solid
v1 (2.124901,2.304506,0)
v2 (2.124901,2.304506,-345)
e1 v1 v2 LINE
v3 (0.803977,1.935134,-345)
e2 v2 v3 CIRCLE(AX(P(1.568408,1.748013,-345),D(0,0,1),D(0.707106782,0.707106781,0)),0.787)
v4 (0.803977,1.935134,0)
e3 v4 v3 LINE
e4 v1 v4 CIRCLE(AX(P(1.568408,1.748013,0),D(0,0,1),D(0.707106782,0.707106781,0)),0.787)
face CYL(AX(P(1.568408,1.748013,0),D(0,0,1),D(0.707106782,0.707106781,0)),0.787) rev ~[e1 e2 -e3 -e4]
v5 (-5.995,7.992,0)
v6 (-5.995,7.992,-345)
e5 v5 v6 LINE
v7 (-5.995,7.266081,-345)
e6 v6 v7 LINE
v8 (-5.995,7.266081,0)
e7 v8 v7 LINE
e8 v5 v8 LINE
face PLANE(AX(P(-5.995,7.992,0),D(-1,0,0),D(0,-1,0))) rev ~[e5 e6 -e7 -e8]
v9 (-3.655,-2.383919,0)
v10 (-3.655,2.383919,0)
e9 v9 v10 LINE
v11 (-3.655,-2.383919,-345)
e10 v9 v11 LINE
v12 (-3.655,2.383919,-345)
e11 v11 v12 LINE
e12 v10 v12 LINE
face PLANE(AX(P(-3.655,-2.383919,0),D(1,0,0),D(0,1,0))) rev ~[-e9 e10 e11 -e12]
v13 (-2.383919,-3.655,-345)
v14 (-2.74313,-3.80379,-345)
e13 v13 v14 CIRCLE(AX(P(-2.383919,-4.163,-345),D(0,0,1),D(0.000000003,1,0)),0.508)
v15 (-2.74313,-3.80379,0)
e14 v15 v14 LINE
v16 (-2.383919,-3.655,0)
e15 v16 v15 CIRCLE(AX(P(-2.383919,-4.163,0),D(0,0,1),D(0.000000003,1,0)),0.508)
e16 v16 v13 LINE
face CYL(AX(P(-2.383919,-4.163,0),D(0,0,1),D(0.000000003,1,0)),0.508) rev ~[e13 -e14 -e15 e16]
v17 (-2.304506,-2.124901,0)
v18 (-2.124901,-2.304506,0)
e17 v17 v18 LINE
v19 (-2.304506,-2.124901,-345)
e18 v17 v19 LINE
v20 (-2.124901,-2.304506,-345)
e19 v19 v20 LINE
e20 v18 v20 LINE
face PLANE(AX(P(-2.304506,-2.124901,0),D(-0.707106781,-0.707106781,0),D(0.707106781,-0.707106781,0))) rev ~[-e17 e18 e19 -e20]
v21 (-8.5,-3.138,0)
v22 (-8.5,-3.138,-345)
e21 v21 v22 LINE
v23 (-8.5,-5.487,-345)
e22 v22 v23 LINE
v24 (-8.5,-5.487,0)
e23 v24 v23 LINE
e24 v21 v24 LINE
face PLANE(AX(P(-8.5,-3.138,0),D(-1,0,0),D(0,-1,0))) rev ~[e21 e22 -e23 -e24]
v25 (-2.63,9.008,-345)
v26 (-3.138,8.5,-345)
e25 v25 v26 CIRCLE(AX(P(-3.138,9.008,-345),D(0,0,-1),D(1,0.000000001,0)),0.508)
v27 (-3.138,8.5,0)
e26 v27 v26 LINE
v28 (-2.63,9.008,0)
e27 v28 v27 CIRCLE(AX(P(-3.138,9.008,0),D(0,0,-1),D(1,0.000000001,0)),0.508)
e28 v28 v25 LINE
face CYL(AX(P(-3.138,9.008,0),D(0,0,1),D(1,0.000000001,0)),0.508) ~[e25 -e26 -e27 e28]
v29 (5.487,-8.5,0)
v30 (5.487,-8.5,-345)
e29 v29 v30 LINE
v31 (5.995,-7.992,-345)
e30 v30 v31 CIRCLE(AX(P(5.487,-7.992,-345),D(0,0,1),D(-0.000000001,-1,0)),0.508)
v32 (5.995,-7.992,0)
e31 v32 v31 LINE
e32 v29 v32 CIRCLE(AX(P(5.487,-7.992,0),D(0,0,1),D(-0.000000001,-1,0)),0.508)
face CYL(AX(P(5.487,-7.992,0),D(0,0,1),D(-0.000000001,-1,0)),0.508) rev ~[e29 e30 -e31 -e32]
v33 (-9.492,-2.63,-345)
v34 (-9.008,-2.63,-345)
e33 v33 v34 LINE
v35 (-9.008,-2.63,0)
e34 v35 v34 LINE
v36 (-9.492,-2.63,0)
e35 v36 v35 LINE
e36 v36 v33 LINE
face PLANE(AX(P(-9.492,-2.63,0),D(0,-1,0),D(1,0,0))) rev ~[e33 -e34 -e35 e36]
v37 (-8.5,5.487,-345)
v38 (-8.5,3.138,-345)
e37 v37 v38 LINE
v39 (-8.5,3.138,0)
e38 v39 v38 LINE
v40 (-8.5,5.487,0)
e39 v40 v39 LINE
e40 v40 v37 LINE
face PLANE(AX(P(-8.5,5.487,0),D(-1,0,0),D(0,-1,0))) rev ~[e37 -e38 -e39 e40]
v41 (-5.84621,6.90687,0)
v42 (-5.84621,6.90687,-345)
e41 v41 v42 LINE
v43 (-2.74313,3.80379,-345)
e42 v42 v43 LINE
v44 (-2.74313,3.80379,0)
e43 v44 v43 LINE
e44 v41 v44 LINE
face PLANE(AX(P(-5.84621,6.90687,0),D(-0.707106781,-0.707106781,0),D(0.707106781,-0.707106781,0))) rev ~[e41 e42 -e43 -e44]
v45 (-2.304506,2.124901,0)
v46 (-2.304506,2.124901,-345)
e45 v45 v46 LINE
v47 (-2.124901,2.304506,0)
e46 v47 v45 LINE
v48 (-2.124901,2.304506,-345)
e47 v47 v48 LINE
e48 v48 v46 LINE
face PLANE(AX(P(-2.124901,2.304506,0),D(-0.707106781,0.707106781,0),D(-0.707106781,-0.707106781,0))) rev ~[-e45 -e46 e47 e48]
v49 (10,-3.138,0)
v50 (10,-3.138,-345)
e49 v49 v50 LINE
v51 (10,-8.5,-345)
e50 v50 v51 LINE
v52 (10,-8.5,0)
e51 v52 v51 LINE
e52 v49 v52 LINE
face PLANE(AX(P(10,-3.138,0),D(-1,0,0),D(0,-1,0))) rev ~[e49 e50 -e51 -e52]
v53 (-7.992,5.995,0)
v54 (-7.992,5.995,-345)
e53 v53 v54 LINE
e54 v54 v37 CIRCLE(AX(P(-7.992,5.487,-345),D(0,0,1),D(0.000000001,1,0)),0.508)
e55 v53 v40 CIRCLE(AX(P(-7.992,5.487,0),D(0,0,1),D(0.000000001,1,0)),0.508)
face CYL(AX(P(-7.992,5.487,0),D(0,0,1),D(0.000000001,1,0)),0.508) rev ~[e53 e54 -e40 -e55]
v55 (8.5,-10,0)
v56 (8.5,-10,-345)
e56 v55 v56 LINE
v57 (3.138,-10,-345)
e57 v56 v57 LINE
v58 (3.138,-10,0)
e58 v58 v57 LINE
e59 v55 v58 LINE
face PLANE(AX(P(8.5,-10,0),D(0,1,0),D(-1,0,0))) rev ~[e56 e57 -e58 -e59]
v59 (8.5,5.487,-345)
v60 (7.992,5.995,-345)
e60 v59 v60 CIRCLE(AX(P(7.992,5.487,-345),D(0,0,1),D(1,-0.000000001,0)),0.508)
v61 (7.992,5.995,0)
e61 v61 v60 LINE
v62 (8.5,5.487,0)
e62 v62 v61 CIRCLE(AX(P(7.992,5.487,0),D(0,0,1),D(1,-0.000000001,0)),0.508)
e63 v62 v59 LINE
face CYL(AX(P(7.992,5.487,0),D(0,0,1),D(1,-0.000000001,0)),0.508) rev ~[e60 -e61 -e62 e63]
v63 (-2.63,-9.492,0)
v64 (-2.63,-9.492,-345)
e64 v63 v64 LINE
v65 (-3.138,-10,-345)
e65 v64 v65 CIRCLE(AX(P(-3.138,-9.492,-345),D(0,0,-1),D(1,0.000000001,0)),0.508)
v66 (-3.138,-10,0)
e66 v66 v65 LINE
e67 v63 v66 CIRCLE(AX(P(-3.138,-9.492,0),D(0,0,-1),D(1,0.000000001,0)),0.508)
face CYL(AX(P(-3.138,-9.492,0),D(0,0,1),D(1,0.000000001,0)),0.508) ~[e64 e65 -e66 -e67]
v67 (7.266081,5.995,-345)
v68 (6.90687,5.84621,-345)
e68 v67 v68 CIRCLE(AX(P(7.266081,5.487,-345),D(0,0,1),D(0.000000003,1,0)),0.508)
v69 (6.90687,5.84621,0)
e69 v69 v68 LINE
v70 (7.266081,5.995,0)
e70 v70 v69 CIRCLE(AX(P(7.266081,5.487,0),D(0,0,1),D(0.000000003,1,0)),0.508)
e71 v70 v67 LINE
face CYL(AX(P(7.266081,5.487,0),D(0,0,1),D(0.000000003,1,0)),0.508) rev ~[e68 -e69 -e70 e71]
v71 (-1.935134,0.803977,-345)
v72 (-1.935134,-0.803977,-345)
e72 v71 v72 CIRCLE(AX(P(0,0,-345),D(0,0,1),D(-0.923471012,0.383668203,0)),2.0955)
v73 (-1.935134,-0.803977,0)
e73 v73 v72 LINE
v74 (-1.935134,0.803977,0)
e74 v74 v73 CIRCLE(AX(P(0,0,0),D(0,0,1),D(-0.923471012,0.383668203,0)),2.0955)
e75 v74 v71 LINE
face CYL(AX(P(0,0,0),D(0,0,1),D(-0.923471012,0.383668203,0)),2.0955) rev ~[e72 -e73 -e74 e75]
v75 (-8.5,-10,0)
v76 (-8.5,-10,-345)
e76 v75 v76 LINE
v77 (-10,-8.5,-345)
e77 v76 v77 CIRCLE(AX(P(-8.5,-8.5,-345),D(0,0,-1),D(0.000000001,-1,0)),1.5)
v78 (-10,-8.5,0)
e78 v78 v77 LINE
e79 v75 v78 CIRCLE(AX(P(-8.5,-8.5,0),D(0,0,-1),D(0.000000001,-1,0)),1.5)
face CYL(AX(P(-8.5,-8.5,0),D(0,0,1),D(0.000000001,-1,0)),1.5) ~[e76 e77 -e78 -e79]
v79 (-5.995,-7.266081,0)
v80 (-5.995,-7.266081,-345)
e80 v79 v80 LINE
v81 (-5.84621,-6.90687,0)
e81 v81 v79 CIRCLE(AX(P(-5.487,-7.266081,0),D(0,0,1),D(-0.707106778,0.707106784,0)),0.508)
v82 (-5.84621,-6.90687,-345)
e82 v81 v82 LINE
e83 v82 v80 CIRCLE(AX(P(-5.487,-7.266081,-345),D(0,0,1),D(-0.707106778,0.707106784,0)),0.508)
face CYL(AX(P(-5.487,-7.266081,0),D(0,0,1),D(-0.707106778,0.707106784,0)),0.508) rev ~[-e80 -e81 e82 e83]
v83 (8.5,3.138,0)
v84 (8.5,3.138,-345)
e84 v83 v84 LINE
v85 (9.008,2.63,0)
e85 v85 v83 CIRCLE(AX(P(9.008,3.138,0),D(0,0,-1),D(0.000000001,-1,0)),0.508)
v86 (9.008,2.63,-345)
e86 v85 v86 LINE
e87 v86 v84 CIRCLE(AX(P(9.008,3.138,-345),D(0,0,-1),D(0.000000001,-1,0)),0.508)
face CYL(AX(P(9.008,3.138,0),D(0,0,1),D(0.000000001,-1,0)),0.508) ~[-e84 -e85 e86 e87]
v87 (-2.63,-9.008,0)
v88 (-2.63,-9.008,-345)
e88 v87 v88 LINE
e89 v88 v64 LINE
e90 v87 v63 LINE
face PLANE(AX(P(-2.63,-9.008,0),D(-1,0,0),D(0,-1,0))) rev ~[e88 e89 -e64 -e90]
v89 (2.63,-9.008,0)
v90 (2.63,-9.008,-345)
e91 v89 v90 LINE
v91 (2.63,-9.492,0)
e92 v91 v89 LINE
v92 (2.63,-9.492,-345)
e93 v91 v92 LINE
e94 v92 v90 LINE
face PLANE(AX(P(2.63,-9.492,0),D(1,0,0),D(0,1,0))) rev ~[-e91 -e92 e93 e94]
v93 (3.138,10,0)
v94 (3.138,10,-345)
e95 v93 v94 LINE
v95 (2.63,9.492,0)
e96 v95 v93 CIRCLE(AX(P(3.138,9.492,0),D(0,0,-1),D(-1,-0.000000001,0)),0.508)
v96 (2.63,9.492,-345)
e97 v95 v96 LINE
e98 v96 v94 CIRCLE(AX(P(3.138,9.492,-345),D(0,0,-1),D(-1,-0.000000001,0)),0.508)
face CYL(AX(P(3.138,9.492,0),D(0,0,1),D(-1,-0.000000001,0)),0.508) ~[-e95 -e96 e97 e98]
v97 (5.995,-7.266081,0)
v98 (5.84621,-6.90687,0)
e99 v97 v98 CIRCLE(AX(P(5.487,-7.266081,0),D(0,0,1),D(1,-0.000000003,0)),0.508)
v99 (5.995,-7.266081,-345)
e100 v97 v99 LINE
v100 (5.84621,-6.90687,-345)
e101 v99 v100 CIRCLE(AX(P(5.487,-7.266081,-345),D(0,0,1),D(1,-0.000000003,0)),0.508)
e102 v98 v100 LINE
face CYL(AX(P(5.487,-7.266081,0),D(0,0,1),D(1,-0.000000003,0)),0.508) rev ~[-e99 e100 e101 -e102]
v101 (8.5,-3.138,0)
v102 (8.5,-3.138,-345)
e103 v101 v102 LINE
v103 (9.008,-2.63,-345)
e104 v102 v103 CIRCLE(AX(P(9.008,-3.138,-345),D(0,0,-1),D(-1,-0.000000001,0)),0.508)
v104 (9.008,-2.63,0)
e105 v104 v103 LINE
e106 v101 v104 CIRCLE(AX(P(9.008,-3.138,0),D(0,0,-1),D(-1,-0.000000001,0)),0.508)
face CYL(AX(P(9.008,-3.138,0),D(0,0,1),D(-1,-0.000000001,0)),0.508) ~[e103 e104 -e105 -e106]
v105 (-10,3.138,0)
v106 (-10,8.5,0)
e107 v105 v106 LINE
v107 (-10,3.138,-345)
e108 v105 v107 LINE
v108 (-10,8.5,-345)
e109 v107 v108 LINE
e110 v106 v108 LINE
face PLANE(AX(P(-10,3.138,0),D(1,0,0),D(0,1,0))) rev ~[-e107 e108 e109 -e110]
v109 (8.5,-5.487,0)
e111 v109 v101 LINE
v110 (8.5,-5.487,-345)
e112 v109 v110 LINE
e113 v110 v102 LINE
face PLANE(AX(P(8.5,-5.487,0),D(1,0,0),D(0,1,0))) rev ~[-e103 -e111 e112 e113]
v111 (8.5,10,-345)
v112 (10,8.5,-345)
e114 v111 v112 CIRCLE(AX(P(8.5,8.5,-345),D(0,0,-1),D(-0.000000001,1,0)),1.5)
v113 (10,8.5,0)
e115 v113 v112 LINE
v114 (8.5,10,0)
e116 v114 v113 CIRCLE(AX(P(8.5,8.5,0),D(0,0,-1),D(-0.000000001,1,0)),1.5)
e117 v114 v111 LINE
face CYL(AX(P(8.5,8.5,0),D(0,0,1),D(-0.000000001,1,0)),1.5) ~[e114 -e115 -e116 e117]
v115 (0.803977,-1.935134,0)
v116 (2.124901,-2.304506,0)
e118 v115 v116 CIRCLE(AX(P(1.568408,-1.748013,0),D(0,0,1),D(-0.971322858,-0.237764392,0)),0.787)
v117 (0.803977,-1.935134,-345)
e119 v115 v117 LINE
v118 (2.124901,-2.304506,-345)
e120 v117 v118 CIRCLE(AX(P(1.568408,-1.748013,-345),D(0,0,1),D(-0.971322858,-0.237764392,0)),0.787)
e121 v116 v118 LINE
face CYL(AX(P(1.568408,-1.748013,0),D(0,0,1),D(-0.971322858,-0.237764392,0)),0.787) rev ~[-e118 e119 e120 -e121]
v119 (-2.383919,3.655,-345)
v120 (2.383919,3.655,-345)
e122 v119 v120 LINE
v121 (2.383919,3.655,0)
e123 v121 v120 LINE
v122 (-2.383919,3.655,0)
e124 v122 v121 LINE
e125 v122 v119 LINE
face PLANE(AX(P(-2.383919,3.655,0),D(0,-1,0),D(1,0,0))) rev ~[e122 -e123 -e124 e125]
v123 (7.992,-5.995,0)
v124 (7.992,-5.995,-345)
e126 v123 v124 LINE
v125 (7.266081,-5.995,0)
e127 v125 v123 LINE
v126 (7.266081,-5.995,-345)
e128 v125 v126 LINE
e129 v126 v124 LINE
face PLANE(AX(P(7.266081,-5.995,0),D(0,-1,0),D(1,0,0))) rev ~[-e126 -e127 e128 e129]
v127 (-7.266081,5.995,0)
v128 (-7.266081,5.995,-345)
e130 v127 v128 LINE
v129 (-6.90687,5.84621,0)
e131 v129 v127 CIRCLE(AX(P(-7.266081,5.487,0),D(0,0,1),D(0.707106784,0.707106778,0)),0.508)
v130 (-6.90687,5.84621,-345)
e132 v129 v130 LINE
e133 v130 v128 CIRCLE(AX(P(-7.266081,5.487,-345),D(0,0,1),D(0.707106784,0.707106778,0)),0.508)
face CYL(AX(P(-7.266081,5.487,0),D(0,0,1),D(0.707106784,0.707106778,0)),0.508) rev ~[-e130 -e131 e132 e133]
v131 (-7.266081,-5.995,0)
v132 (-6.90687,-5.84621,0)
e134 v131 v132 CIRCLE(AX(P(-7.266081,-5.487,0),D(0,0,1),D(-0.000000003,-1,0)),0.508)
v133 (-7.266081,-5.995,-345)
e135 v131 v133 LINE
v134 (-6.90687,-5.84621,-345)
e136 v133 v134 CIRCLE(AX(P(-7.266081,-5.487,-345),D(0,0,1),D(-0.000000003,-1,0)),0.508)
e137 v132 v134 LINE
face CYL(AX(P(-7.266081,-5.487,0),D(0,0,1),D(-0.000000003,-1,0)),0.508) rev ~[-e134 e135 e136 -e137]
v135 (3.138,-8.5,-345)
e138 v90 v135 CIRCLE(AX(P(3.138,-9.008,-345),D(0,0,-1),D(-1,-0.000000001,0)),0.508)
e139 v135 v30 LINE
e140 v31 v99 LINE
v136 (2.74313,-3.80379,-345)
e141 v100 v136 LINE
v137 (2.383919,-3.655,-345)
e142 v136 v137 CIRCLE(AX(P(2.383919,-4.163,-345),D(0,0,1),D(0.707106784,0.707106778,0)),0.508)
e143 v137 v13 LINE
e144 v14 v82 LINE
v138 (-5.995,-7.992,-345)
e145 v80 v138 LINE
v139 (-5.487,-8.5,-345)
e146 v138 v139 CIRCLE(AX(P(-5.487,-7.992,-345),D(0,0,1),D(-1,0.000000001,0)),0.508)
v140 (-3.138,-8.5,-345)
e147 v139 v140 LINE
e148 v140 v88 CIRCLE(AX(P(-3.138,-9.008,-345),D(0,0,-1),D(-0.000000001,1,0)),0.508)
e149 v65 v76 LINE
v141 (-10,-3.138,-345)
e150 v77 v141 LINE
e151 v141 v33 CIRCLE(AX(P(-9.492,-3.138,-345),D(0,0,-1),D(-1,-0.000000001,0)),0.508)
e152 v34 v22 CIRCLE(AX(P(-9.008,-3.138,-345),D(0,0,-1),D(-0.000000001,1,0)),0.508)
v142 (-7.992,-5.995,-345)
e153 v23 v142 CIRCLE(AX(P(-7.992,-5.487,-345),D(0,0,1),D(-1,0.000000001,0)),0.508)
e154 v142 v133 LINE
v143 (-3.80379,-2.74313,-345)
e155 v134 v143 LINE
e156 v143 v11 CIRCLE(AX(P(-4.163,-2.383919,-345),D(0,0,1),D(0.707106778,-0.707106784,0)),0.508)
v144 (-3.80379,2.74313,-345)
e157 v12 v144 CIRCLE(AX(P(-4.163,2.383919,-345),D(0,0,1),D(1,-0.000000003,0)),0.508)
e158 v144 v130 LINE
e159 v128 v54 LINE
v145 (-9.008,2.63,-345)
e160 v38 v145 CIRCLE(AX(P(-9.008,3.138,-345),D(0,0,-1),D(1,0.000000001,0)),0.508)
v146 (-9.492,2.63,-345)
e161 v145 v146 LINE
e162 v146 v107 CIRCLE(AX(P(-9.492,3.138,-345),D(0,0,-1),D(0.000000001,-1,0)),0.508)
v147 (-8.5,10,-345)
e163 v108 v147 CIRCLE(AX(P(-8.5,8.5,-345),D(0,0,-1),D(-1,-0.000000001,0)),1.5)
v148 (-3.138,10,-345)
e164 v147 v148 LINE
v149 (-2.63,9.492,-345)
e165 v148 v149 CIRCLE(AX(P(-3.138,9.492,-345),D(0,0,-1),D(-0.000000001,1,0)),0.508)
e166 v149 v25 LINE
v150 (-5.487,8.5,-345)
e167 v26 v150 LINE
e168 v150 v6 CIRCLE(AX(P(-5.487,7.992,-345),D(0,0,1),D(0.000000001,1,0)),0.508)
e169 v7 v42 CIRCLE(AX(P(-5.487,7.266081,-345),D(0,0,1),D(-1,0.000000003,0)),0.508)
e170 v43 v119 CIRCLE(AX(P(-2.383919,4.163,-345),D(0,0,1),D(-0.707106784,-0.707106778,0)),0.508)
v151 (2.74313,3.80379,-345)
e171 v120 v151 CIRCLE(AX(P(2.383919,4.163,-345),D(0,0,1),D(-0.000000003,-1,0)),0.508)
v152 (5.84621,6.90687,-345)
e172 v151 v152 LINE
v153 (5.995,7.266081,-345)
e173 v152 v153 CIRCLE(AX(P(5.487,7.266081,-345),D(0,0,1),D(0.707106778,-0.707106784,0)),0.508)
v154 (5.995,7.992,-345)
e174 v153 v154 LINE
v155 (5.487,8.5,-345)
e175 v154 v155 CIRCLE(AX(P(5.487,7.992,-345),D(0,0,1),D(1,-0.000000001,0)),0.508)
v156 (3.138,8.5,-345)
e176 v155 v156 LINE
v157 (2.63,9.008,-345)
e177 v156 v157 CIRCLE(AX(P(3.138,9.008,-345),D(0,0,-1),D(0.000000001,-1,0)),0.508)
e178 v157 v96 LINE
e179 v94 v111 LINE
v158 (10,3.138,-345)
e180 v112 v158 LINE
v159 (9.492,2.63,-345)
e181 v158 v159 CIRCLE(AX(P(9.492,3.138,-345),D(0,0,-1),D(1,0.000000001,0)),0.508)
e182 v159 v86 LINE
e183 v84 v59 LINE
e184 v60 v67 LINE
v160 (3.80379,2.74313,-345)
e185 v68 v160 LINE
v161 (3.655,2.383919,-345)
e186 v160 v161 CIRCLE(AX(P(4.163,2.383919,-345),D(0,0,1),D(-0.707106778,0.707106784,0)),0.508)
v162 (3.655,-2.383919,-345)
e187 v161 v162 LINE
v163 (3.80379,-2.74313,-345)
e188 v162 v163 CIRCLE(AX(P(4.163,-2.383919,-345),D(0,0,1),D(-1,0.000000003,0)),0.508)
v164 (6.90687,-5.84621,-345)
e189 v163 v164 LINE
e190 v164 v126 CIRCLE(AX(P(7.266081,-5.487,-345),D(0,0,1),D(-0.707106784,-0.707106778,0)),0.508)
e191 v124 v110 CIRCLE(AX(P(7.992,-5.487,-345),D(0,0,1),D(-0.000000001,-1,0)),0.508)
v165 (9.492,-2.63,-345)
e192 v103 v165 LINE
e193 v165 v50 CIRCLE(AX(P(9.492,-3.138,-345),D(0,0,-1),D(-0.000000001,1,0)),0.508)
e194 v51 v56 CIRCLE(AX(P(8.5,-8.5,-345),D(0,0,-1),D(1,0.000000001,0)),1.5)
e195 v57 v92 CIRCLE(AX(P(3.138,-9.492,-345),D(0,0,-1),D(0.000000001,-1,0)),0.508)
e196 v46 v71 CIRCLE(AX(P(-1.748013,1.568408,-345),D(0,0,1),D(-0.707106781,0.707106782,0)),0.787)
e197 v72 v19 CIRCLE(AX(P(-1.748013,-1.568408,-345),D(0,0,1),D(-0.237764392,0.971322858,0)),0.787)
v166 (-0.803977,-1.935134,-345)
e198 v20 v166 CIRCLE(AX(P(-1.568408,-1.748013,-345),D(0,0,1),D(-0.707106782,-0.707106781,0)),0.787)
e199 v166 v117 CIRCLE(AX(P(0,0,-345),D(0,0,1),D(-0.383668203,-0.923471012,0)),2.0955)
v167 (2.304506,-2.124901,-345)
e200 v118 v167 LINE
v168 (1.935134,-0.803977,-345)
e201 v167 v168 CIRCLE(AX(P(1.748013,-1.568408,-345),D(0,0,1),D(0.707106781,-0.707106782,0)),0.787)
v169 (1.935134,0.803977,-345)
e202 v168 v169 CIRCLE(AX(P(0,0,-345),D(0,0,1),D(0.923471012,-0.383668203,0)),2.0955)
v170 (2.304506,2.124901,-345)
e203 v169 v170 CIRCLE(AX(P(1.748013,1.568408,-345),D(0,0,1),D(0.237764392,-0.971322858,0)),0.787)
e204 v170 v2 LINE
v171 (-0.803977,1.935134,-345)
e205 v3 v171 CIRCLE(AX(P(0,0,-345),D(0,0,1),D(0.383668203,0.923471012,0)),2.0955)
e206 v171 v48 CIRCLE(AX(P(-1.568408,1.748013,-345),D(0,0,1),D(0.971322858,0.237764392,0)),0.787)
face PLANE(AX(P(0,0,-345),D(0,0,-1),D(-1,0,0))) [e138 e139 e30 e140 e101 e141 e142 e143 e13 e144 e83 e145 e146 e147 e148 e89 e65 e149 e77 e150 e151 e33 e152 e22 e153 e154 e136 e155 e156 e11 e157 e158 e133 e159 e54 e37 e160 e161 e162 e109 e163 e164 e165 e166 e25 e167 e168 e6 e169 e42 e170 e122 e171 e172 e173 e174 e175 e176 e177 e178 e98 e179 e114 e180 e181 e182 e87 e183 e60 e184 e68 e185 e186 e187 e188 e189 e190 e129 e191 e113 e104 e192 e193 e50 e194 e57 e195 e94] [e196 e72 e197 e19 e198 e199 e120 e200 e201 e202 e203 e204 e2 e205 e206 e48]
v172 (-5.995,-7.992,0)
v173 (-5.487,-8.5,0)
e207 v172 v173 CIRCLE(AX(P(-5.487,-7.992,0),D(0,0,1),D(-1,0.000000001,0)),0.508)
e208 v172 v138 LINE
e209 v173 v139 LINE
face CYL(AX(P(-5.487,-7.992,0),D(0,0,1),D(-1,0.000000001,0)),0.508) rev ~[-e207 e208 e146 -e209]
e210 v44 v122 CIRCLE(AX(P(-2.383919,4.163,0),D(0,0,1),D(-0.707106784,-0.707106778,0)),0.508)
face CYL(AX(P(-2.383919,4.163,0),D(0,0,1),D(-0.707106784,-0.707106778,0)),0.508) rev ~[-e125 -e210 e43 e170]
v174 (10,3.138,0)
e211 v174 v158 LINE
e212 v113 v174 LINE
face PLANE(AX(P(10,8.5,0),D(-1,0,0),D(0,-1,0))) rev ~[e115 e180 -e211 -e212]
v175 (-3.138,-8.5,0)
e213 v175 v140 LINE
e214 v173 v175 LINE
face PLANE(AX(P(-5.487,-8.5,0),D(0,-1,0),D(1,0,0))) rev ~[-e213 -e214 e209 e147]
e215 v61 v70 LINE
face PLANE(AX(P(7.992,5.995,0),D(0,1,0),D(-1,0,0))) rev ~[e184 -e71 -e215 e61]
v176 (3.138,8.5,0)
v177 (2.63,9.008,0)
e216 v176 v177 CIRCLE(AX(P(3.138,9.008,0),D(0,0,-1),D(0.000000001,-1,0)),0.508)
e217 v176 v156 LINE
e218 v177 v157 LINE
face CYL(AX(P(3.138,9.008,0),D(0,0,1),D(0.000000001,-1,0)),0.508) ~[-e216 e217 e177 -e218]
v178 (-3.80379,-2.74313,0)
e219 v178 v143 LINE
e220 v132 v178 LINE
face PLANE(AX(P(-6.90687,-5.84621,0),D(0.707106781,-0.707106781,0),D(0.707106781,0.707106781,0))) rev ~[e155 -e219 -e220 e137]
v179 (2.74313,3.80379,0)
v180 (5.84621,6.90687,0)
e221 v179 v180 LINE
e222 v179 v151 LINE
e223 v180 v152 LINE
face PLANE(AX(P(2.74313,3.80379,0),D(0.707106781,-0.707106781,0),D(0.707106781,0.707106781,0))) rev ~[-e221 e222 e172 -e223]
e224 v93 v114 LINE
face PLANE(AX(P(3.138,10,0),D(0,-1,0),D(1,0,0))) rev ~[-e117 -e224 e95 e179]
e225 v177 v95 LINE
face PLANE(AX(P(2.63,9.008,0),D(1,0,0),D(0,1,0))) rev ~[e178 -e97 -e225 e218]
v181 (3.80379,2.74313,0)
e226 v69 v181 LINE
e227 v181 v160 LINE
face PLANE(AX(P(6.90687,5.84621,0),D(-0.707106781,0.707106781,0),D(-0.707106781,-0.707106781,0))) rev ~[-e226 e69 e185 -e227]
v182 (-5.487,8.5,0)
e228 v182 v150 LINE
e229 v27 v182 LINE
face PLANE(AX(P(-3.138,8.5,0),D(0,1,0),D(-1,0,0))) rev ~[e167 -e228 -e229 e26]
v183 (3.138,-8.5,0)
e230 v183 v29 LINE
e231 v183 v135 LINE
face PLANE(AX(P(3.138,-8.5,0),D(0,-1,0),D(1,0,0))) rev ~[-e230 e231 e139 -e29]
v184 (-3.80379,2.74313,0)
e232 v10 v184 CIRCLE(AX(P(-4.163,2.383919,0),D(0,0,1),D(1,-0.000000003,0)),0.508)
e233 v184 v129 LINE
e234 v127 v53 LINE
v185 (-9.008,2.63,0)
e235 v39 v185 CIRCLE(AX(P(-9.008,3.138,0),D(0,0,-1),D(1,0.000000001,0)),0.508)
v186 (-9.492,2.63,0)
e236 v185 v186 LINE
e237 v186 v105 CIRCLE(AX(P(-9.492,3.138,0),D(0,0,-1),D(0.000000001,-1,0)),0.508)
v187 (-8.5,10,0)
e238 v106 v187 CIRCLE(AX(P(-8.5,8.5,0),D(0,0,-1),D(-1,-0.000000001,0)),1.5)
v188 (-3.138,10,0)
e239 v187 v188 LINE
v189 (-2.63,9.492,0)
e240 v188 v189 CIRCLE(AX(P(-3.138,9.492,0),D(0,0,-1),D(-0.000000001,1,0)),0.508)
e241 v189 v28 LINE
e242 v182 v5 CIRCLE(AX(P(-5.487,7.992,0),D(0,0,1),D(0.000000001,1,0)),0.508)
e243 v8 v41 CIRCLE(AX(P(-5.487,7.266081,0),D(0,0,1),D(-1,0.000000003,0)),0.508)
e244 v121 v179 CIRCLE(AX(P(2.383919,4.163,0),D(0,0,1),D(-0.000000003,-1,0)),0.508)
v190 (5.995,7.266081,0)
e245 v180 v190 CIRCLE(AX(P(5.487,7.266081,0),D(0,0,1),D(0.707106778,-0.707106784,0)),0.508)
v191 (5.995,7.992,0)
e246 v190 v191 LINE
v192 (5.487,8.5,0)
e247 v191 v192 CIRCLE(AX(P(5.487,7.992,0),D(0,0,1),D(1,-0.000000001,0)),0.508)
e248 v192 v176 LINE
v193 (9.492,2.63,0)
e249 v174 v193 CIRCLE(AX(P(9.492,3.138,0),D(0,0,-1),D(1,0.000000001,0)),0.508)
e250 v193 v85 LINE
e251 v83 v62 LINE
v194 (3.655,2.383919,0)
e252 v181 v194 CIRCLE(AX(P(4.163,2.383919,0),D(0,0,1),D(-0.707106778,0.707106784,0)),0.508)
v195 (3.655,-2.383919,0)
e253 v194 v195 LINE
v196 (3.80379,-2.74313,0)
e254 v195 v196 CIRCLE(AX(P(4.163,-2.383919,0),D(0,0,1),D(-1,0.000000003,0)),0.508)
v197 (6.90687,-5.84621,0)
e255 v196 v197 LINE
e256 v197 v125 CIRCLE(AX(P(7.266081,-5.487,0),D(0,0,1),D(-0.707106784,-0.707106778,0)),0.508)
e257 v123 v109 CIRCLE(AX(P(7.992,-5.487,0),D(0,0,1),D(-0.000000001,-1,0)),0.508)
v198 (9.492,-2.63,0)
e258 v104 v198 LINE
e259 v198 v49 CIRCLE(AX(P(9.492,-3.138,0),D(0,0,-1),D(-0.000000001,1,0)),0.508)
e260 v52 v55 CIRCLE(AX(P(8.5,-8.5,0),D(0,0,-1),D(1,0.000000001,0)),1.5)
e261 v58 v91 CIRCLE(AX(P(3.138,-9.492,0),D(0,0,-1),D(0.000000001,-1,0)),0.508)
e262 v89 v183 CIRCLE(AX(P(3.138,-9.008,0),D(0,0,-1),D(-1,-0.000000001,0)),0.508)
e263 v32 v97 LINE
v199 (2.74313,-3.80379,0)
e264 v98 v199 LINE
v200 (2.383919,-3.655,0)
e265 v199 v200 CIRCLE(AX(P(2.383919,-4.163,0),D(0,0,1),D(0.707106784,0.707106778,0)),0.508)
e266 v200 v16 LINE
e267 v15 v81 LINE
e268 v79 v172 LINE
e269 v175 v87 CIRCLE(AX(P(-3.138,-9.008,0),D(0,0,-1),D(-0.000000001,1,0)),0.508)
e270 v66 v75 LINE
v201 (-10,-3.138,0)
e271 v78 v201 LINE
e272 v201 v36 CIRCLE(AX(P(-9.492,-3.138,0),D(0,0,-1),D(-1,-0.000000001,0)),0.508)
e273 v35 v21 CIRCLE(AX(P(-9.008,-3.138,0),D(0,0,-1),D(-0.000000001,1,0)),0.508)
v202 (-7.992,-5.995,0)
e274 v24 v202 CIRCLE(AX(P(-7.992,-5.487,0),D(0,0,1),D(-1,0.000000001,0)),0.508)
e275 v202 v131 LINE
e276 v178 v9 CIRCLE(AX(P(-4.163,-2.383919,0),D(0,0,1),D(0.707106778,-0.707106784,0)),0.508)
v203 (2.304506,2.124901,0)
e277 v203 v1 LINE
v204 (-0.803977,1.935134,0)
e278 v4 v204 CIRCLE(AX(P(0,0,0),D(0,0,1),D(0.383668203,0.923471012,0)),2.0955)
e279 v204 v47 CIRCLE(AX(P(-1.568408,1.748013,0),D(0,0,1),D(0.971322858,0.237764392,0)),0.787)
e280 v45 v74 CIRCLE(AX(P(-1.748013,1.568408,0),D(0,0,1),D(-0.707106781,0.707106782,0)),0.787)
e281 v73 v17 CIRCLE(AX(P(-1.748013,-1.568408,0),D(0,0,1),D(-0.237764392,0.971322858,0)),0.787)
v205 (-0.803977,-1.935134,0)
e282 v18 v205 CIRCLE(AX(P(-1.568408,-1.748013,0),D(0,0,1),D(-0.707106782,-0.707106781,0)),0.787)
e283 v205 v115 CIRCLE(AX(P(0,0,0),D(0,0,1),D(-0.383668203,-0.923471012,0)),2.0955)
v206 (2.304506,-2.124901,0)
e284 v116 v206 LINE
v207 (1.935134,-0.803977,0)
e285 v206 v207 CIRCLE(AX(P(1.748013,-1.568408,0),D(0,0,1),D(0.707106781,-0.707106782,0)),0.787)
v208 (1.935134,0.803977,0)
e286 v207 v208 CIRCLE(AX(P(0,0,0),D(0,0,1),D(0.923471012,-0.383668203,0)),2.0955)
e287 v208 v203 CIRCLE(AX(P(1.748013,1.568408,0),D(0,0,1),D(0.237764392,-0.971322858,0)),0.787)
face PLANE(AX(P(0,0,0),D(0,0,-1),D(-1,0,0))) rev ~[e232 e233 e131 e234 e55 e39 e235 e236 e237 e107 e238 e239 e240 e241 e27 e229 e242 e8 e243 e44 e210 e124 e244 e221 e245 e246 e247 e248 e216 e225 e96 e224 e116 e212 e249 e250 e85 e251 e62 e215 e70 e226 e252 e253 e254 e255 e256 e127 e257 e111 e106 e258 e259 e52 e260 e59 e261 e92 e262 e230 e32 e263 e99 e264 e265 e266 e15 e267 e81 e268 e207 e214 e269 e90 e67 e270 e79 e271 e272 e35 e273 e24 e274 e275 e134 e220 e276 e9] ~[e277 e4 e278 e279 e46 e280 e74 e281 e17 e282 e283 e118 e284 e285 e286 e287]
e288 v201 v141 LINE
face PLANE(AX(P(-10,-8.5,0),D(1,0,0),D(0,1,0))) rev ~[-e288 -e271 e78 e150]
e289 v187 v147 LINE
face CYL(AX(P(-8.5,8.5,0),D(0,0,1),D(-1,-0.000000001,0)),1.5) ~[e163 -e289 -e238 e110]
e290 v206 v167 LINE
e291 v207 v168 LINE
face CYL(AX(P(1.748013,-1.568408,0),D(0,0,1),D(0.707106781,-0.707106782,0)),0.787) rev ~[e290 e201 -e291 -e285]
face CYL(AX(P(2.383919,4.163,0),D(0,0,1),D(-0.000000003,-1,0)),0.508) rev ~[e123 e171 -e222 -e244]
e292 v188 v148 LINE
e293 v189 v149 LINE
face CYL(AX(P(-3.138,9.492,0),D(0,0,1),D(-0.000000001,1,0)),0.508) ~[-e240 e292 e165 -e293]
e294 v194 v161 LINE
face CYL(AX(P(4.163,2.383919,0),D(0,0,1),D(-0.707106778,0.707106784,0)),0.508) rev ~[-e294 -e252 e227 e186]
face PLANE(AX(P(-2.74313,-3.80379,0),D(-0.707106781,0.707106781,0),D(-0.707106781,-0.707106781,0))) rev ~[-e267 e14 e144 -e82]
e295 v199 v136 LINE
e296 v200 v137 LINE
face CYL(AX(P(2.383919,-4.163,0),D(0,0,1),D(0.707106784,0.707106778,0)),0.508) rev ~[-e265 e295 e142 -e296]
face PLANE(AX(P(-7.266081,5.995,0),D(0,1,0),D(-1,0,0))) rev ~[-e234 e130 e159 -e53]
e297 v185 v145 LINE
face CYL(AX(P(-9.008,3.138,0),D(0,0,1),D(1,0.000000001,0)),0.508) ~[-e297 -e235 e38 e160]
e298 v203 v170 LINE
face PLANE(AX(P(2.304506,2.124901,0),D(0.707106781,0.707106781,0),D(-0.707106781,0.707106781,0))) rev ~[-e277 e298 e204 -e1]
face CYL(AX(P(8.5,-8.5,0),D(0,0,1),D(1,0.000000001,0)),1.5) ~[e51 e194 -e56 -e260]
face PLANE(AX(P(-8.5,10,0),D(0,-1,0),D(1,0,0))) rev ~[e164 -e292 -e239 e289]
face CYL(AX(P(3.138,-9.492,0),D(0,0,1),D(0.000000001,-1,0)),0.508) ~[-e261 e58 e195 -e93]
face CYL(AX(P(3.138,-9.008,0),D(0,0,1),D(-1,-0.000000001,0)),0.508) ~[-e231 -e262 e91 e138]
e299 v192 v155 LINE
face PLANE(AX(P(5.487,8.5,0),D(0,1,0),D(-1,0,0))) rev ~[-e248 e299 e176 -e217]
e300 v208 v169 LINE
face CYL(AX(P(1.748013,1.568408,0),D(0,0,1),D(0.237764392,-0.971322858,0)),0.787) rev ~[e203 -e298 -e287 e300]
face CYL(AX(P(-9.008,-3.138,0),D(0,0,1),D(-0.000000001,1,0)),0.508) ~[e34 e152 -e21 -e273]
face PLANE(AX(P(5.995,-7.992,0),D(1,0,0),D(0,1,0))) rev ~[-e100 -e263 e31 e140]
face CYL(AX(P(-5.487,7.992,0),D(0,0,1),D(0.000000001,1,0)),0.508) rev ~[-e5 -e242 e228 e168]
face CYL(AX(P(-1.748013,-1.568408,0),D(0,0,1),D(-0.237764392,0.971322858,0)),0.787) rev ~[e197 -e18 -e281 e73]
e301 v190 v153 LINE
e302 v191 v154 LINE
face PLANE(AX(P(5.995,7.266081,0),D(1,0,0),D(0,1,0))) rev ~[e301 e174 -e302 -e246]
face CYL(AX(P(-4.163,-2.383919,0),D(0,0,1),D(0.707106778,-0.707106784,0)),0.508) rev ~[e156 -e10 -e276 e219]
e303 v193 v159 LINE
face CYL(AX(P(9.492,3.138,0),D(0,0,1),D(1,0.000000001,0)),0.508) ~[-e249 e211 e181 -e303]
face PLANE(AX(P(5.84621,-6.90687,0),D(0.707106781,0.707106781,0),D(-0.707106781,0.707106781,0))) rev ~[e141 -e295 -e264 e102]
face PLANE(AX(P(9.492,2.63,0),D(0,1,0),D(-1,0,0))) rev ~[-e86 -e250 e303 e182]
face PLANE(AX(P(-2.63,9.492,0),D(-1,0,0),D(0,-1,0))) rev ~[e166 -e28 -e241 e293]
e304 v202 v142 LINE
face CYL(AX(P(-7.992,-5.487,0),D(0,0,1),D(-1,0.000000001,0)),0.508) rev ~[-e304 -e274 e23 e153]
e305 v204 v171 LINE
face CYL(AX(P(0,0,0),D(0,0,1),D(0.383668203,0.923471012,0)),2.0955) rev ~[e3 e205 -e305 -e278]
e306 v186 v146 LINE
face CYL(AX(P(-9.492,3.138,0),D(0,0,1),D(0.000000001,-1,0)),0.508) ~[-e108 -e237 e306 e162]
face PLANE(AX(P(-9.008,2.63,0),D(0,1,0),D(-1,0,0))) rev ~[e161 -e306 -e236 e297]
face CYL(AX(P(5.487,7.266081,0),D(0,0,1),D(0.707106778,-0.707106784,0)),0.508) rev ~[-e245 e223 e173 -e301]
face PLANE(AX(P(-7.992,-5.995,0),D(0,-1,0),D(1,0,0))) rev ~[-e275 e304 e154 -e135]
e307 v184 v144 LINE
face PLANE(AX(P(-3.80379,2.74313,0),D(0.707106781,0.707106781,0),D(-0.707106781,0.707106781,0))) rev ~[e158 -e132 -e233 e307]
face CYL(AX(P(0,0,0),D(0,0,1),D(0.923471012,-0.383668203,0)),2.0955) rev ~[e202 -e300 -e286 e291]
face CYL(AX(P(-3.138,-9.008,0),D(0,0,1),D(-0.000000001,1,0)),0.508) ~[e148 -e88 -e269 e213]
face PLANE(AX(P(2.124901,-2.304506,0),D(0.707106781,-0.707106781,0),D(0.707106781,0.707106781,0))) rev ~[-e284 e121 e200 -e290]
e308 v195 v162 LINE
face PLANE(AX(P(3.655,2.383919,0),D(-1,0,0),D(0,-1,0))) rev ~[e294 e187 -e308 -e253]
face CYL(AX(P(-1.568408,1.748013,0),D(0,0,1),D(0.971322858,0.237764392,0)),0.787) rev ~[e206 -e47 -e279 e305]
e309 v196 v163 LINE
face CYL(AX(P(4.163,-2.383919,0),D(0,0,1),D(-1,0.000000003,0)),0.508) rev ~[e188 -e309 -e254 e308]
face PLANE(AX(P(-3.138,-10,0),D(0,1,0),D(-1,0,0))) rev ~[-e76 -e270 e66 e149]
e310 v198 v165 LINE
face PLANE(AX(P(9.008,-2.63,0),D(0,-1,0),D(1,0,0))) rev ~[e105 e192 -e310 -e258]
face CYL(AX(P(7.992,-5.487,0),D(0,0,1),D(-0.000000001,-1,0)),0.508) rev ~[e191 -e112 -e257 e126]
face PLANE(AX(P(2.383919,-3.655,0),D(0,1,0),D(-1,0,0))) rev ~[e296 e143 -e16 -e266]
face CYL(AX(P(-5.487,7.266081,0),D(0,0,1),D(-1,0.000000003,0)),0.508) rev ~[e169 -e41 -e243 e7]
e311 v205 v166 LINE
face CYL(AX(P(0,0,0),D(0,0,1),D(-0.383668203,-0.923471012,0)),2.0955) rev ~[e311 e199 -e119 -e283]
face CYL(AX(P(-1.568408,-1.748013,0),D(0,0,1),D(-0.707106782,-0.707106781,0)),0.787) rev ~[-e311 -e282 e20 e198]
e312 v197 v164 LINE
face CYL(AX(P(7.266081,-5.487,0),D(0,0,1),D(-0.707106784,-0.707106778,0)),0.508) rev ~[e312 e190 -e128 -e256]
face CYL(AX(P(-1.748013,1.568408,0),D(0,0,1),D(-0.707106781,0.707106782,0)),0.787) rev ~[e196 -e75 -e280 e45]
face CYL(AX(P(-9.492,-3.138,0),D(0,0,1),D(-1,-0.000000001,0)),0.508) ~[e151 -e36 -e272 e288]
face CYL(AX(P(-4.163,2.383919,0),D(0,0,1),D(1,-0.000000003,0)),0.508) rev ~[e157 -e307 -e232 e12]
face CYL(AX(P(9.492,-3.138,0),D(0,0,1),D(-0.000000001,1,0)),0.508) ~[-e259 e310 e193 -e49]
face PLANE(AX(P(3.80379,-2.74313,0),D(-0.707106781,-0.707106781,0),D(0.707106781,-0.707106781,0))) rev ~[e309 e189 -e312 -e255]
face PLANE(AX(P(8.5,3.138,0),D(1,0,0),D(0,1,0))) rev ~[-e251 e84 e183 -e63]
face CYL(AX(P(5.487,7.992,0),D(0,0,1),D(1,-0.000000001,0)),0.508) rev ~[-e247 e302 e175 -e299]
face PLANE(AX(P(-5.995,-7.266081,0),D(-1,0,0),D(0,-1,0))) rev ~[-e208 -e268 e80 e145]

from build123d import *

# Parameters (mm, degrees)
EXTRUDE1_DEPTH = 345


with BuildPart() as part:
    # Sketch1 → Extrude1 (new body)
    with BuildSketch(Plane.XY):
        with BuildLine():
            Line((9.492, 2.63), (9.008, 2.63))
            ThreePointArc((9.008, 2.63), (8.648789755, 2.778789755), (8.5, 3.138))
            Line((8.5, 3.138), (8.5, 5.487))
            ThreePointArc((8.5, 5.487), (8.351210245, 5.846210245), (7.992, 5.995))
            Line((7.992, 5.995), (7.266080661, 5.995))
            ThreePointArc((7.266080661, 5.995), (7.071677478, 5.956330803), (6.906870417, 5.846210245))
            Line((6.906870417, 5.846210245), (3.803789755, 2.743129583))
            ThreePointArc((3.803789755, 2.743129583), (3.693669197, 2.578322522), (3.655, 2.383919339))
            Line((3.655, 2.383919339), (3.655, -2.383919339))
            ThreePointArc((3.655, -2.383919339), (3.693669197, -2.578322522), (3.803789755, -2.743129583))
            Line((3.803789755, -2.743129583), (6.906870417, -5.846210245))
            ThreePointArc((6.906870417, -5.846210245), (7.071677478, -5.956330803), (7.266080661, -5.995))
            Line((7.266080661, -5.995), (7.992, -5.995))
            ThreePointArc((7.992, -5.995), (8.351210245, -5.846210245), (8.5, -5.487))
            Line((8.5, -5.487), (8.5, -3.138))
            ThreePointArc((8.5, -3.138), (8.648789755, -2.778789755), (9.008, -2.63))
            Line((9.008, -2.63), (9.492, -2.63))
            ThreePointArc((9.492, -2.63), (9.851210245, -2.778789755), (10, -3.138))
            Line((10, -3.138), (10, -8.5))
            ThreePointArc((10, -8.5), (9.560660172, -9.560660172), (8.5, -10))
            Line((8.5, -10), (3.138, -10))
            ThreePointArc((3.138, -10), (2.778789755, -9.851210245), (2.63, -9.492))
            Line((2.63, -9.492), (2.63, -9.008))
            ThreePointArc((2.63, -9.008), (2.778789755, -8.648789755), (3.138, -8.5))
            Line((3.138, -8.5), (5.487, -8.5))
            ThreePointArc((5.487, -8.5), (5.846210245, -8.351210245), (5.995, -7.992))
            Line((5.995, -7.992), (5.995, -7.266080661))
            ThreePointArc((5.995, -7.266080661), (5.956330803, -7.071677478), (5.846210245, -6.906870417))
            Line((5.846210245, -6.906870417), (2.743129583, -3.803789755))
            ThreePointArc((2.743129583, -3.803789755), (2.578322522, -3.693669197), (2.383919339, -3.655))
            Line((2.383919339, -3.655), (-2.383919339, -3.655))
            ThreePointArc((-2.383919339, -3.655), (-2.578322522, -3.693669197), (-2.743129583, -3.803789755))
            Line((-2.743129583, -3.803789755), (-5.846210245, -6.906870417))
            ThreePointArc((-5.846210245, -6.906870417), (-5.956330803, -7.071677478), (-5.995, -7.266080661))
            Line((-5.995, -7.266080661), (-5.995, -7.992))
            ThreePointArc((-5.995, -7.992), (-5.846210245, -8.351210245), (-5.487, -8.5))
            Line((-5.487, -8.5), (-3.138, -8.5))
            ThreePointArc((-3.138, -8.5), (-2.778789755, -8.648789755), (-2.63, -9.008))
            Line((-2.63, -9.008), (-2.63, -9.492))
            ThreePointArc((-2.63, -9.492), (-2.778789755, -9.851210245), (-3.138, -10))
            Line((-3.138, -10), (-8.5, -10))
            ThreePointArc((-8.5, -10), (-9.560660172, -9.560660172), (-10, -8.5))
            Line((-10, -8.5), (-10, -3.138))
            ThreePointArc((-10, -3.138), (-9.851210245, -2.778789755), (-9.492, -2.63))
            Line((-9.492, -2.63), (-9.008, -2.63))
            ThreePointArc((-9.008, -2.63), (-8.648789755, -2.778789755), (-8.5, -3.138))
            Line((-8.5, -3.138), (-8.5, -5.487))
            ThreePointArc((-8.5, -5.487), (-8.351210245, -5.846210245), (-7.992, -5.995))
            Line((-7.992, -5.995), (-7.266080661, -5.995))
            ThreePointArc((-7.266080661, -5.995), (-7.071677478, -5.956330803), (-6.906870417, -5.846210245))
            Line((-6.906870417, -5.846210245), (-3.803789755, -2.743129583))
            ThreePointArc((-3.803789755, -2.743129583), (-3.693669197, -2.578322522), (-3.655, -2.383919339))
            Line((-3.655, -2.383919339), (-3.655, 2.383919339))
            ThreePointArc((-3.655, 2.383919339), (-3.693669197, 2.578322522), (-3.803789755, 2.743129583))
            Line((-3.803789755, 2.743129583), (-6.906870417, 5.846210245))
            ThreePointArc((-6.906870417, 5.846210245), (-7.071677478, 5.956330803), (-7.266080661, 5.995))
            Line((-7.266080661, 5.995), (-7.992, 5.995))
            ThreePointArc((-7.992, 5.995), (-8.351210245, 5.846210245), (-8.5, 5.487))
            Line((-8.5, 5.487), (-8.5, 3.138))
            ThreePointArc((-8.5, 3.138), (-8.648789755, 2.778789755), (-9.008, 2.63))
            Line((-9.008, 2.63), (-9.492, 2.63))
            ThreePointArc((-9.492, 2.63), (-9.851210245, 2.778789755), (-10, 3.138))
            Line((-10, 3.138), (-10, 8.5))
            ThreePointArc((-10, 8.5), (-9.560660172, 9.560660172), (-8.5, 10))
            Line((-8.5, 10), (-3.138, 10))
            ThreePointArc((-3.138, 10), (-2.778789755, 9.851210245), (-2.63, 9.492))
            Line((-2.63, 9.492), (-2.63, 9.008))
            ThreePointArc((-2.63, 9.008), (-2.778789755, 8.648789755), (-3.138, 8.5))
            Line((-3.138, 8.5), (-5.487, 8.5))
            ThreePointArc((-5.487, 8.5), (-5.846210245, 8.351210245), (-5.995, 7.992))
            Line((-5.995, 7.992), (-5.995, 7.266080661))
            ThreePointArc((-5.995, 7.266080661), (-5.956330803, 7.071677478), (-5.846210245, 6.906870417))
            Line((-5.846210245, 6.906870417), (-2.743129583, 3.803789755))
            ThreePointArc((-2.743129583, 3.803789755), (-2.578322522, 3.693669197), (-2.383919339, 3.655))
            Line((-2.383919339, 3.655), (2.383919339, 3.655))
            ThreePointArc((2.383919339, 3.655), (2.578322522, 3.693669197), (2.743129583, 3.803789755))
            Line((2.743129583, 3.803789755), (5.846210245, 6.906870417))
            ThreePointArc((5.846210245, 6.906870417), (5.956330803, 7.071677478), (5.995, 7.266080661))
            Line((5.995, 7.266080661), (5.995, 7.992))
            ThreePointArc((5.995, 7.992), (5.846210245, 8.351210245), (5.487, 8.5))
            Line((5.487, 8.5), (3.138, 8.5))
            ThreePointArc((3.138, 8.5), (2.778789755, 8.648789755), (2.63, 9.008))
            Line((2.63, 9.008), (2.63, 9.492))
            ThreePointArc((2.63, 9.492), (2.778789755, 9.851210245), (3.138, 10))
            Line((3.138, 10), (8.5, 10))
            ThreePointArc((8.5, 10), (9.560660172, 9.560660172), (10, 8.5))
            Line((10, 8.5), (10, 3.138))
            ThreePointArc((10, 3.138), (9.851210245, 2.778789755), (9.492, 2.63))
        make_face()
        with BuildLine():
            Line((2.124900844, -2.304505966), (2.304505966, -2.124900844))
            ThreePointArc((2.304505966, -2.124900844), (2.505938017, -1.356467811), (1.935133506, -0.803976718))
            ThreePointArc((1.935133506, -0.803976718), (2.0955, 0), (1.935133506, 0.803976718))
            ThreePointArc((1.935133506, 0.803976718), (2.505938017, 1.356467811), (2.304505966, 2.124900844))
            Line((2.304505966, 2.124900844), (2.124900844, 2.304505966))
            ThreePointArc((2.124900844, 2.304505966), (1.356467811, 2.505938017), (0.803976718, 1.935133506))
            ThreePointArc((0.803976718, 1.935133506), (0, 2.0955), (-0.803976718, 1.935133506))
            ThreePointArc((-0.803976718, 1.935133506), (-1.356467811, 2.505938017), (-2.124900844, 2.304505966))
            Line((-2.124900844, 2.304505966), (-2.304505966, 2.124900844))
            ThreePointArc((-2.304505966, 2.124900844), (-2.505938017, 1.356467811), (-1.935133506, 0.803976718))
            ThreePointArc((-1.935133506, 0.803976718), (-2.0955, 0), (-1.935133506, -0.803976718))
            ThreePointArc((-1.935133506, -0.803976718), (-2.505938017, -1.356467811), (-2.304505966, -2.124900844))
            Line((-2.304505966, -2.124900844), (-2.124900844, -2.304505966))
            ThreePointArc((-2.124900844, -2.304505966), (-1.356467811, -2.505938017), (-0.803976718, -1.935133506))
            ThreePointArc((-0.803976718, -1.935133506), (0, -2.0955), (0.803976718, -1.935133506))
            ThreePointArc((0.803976718, -1.935133506), (1.356467811, -2.505938017), (2.124900844, -2.304505966))
        make_face(mode=Mode.SUBTRACT)
    extrude(amount=-EXTRUDE1_DEPTH)


solid = part.part
